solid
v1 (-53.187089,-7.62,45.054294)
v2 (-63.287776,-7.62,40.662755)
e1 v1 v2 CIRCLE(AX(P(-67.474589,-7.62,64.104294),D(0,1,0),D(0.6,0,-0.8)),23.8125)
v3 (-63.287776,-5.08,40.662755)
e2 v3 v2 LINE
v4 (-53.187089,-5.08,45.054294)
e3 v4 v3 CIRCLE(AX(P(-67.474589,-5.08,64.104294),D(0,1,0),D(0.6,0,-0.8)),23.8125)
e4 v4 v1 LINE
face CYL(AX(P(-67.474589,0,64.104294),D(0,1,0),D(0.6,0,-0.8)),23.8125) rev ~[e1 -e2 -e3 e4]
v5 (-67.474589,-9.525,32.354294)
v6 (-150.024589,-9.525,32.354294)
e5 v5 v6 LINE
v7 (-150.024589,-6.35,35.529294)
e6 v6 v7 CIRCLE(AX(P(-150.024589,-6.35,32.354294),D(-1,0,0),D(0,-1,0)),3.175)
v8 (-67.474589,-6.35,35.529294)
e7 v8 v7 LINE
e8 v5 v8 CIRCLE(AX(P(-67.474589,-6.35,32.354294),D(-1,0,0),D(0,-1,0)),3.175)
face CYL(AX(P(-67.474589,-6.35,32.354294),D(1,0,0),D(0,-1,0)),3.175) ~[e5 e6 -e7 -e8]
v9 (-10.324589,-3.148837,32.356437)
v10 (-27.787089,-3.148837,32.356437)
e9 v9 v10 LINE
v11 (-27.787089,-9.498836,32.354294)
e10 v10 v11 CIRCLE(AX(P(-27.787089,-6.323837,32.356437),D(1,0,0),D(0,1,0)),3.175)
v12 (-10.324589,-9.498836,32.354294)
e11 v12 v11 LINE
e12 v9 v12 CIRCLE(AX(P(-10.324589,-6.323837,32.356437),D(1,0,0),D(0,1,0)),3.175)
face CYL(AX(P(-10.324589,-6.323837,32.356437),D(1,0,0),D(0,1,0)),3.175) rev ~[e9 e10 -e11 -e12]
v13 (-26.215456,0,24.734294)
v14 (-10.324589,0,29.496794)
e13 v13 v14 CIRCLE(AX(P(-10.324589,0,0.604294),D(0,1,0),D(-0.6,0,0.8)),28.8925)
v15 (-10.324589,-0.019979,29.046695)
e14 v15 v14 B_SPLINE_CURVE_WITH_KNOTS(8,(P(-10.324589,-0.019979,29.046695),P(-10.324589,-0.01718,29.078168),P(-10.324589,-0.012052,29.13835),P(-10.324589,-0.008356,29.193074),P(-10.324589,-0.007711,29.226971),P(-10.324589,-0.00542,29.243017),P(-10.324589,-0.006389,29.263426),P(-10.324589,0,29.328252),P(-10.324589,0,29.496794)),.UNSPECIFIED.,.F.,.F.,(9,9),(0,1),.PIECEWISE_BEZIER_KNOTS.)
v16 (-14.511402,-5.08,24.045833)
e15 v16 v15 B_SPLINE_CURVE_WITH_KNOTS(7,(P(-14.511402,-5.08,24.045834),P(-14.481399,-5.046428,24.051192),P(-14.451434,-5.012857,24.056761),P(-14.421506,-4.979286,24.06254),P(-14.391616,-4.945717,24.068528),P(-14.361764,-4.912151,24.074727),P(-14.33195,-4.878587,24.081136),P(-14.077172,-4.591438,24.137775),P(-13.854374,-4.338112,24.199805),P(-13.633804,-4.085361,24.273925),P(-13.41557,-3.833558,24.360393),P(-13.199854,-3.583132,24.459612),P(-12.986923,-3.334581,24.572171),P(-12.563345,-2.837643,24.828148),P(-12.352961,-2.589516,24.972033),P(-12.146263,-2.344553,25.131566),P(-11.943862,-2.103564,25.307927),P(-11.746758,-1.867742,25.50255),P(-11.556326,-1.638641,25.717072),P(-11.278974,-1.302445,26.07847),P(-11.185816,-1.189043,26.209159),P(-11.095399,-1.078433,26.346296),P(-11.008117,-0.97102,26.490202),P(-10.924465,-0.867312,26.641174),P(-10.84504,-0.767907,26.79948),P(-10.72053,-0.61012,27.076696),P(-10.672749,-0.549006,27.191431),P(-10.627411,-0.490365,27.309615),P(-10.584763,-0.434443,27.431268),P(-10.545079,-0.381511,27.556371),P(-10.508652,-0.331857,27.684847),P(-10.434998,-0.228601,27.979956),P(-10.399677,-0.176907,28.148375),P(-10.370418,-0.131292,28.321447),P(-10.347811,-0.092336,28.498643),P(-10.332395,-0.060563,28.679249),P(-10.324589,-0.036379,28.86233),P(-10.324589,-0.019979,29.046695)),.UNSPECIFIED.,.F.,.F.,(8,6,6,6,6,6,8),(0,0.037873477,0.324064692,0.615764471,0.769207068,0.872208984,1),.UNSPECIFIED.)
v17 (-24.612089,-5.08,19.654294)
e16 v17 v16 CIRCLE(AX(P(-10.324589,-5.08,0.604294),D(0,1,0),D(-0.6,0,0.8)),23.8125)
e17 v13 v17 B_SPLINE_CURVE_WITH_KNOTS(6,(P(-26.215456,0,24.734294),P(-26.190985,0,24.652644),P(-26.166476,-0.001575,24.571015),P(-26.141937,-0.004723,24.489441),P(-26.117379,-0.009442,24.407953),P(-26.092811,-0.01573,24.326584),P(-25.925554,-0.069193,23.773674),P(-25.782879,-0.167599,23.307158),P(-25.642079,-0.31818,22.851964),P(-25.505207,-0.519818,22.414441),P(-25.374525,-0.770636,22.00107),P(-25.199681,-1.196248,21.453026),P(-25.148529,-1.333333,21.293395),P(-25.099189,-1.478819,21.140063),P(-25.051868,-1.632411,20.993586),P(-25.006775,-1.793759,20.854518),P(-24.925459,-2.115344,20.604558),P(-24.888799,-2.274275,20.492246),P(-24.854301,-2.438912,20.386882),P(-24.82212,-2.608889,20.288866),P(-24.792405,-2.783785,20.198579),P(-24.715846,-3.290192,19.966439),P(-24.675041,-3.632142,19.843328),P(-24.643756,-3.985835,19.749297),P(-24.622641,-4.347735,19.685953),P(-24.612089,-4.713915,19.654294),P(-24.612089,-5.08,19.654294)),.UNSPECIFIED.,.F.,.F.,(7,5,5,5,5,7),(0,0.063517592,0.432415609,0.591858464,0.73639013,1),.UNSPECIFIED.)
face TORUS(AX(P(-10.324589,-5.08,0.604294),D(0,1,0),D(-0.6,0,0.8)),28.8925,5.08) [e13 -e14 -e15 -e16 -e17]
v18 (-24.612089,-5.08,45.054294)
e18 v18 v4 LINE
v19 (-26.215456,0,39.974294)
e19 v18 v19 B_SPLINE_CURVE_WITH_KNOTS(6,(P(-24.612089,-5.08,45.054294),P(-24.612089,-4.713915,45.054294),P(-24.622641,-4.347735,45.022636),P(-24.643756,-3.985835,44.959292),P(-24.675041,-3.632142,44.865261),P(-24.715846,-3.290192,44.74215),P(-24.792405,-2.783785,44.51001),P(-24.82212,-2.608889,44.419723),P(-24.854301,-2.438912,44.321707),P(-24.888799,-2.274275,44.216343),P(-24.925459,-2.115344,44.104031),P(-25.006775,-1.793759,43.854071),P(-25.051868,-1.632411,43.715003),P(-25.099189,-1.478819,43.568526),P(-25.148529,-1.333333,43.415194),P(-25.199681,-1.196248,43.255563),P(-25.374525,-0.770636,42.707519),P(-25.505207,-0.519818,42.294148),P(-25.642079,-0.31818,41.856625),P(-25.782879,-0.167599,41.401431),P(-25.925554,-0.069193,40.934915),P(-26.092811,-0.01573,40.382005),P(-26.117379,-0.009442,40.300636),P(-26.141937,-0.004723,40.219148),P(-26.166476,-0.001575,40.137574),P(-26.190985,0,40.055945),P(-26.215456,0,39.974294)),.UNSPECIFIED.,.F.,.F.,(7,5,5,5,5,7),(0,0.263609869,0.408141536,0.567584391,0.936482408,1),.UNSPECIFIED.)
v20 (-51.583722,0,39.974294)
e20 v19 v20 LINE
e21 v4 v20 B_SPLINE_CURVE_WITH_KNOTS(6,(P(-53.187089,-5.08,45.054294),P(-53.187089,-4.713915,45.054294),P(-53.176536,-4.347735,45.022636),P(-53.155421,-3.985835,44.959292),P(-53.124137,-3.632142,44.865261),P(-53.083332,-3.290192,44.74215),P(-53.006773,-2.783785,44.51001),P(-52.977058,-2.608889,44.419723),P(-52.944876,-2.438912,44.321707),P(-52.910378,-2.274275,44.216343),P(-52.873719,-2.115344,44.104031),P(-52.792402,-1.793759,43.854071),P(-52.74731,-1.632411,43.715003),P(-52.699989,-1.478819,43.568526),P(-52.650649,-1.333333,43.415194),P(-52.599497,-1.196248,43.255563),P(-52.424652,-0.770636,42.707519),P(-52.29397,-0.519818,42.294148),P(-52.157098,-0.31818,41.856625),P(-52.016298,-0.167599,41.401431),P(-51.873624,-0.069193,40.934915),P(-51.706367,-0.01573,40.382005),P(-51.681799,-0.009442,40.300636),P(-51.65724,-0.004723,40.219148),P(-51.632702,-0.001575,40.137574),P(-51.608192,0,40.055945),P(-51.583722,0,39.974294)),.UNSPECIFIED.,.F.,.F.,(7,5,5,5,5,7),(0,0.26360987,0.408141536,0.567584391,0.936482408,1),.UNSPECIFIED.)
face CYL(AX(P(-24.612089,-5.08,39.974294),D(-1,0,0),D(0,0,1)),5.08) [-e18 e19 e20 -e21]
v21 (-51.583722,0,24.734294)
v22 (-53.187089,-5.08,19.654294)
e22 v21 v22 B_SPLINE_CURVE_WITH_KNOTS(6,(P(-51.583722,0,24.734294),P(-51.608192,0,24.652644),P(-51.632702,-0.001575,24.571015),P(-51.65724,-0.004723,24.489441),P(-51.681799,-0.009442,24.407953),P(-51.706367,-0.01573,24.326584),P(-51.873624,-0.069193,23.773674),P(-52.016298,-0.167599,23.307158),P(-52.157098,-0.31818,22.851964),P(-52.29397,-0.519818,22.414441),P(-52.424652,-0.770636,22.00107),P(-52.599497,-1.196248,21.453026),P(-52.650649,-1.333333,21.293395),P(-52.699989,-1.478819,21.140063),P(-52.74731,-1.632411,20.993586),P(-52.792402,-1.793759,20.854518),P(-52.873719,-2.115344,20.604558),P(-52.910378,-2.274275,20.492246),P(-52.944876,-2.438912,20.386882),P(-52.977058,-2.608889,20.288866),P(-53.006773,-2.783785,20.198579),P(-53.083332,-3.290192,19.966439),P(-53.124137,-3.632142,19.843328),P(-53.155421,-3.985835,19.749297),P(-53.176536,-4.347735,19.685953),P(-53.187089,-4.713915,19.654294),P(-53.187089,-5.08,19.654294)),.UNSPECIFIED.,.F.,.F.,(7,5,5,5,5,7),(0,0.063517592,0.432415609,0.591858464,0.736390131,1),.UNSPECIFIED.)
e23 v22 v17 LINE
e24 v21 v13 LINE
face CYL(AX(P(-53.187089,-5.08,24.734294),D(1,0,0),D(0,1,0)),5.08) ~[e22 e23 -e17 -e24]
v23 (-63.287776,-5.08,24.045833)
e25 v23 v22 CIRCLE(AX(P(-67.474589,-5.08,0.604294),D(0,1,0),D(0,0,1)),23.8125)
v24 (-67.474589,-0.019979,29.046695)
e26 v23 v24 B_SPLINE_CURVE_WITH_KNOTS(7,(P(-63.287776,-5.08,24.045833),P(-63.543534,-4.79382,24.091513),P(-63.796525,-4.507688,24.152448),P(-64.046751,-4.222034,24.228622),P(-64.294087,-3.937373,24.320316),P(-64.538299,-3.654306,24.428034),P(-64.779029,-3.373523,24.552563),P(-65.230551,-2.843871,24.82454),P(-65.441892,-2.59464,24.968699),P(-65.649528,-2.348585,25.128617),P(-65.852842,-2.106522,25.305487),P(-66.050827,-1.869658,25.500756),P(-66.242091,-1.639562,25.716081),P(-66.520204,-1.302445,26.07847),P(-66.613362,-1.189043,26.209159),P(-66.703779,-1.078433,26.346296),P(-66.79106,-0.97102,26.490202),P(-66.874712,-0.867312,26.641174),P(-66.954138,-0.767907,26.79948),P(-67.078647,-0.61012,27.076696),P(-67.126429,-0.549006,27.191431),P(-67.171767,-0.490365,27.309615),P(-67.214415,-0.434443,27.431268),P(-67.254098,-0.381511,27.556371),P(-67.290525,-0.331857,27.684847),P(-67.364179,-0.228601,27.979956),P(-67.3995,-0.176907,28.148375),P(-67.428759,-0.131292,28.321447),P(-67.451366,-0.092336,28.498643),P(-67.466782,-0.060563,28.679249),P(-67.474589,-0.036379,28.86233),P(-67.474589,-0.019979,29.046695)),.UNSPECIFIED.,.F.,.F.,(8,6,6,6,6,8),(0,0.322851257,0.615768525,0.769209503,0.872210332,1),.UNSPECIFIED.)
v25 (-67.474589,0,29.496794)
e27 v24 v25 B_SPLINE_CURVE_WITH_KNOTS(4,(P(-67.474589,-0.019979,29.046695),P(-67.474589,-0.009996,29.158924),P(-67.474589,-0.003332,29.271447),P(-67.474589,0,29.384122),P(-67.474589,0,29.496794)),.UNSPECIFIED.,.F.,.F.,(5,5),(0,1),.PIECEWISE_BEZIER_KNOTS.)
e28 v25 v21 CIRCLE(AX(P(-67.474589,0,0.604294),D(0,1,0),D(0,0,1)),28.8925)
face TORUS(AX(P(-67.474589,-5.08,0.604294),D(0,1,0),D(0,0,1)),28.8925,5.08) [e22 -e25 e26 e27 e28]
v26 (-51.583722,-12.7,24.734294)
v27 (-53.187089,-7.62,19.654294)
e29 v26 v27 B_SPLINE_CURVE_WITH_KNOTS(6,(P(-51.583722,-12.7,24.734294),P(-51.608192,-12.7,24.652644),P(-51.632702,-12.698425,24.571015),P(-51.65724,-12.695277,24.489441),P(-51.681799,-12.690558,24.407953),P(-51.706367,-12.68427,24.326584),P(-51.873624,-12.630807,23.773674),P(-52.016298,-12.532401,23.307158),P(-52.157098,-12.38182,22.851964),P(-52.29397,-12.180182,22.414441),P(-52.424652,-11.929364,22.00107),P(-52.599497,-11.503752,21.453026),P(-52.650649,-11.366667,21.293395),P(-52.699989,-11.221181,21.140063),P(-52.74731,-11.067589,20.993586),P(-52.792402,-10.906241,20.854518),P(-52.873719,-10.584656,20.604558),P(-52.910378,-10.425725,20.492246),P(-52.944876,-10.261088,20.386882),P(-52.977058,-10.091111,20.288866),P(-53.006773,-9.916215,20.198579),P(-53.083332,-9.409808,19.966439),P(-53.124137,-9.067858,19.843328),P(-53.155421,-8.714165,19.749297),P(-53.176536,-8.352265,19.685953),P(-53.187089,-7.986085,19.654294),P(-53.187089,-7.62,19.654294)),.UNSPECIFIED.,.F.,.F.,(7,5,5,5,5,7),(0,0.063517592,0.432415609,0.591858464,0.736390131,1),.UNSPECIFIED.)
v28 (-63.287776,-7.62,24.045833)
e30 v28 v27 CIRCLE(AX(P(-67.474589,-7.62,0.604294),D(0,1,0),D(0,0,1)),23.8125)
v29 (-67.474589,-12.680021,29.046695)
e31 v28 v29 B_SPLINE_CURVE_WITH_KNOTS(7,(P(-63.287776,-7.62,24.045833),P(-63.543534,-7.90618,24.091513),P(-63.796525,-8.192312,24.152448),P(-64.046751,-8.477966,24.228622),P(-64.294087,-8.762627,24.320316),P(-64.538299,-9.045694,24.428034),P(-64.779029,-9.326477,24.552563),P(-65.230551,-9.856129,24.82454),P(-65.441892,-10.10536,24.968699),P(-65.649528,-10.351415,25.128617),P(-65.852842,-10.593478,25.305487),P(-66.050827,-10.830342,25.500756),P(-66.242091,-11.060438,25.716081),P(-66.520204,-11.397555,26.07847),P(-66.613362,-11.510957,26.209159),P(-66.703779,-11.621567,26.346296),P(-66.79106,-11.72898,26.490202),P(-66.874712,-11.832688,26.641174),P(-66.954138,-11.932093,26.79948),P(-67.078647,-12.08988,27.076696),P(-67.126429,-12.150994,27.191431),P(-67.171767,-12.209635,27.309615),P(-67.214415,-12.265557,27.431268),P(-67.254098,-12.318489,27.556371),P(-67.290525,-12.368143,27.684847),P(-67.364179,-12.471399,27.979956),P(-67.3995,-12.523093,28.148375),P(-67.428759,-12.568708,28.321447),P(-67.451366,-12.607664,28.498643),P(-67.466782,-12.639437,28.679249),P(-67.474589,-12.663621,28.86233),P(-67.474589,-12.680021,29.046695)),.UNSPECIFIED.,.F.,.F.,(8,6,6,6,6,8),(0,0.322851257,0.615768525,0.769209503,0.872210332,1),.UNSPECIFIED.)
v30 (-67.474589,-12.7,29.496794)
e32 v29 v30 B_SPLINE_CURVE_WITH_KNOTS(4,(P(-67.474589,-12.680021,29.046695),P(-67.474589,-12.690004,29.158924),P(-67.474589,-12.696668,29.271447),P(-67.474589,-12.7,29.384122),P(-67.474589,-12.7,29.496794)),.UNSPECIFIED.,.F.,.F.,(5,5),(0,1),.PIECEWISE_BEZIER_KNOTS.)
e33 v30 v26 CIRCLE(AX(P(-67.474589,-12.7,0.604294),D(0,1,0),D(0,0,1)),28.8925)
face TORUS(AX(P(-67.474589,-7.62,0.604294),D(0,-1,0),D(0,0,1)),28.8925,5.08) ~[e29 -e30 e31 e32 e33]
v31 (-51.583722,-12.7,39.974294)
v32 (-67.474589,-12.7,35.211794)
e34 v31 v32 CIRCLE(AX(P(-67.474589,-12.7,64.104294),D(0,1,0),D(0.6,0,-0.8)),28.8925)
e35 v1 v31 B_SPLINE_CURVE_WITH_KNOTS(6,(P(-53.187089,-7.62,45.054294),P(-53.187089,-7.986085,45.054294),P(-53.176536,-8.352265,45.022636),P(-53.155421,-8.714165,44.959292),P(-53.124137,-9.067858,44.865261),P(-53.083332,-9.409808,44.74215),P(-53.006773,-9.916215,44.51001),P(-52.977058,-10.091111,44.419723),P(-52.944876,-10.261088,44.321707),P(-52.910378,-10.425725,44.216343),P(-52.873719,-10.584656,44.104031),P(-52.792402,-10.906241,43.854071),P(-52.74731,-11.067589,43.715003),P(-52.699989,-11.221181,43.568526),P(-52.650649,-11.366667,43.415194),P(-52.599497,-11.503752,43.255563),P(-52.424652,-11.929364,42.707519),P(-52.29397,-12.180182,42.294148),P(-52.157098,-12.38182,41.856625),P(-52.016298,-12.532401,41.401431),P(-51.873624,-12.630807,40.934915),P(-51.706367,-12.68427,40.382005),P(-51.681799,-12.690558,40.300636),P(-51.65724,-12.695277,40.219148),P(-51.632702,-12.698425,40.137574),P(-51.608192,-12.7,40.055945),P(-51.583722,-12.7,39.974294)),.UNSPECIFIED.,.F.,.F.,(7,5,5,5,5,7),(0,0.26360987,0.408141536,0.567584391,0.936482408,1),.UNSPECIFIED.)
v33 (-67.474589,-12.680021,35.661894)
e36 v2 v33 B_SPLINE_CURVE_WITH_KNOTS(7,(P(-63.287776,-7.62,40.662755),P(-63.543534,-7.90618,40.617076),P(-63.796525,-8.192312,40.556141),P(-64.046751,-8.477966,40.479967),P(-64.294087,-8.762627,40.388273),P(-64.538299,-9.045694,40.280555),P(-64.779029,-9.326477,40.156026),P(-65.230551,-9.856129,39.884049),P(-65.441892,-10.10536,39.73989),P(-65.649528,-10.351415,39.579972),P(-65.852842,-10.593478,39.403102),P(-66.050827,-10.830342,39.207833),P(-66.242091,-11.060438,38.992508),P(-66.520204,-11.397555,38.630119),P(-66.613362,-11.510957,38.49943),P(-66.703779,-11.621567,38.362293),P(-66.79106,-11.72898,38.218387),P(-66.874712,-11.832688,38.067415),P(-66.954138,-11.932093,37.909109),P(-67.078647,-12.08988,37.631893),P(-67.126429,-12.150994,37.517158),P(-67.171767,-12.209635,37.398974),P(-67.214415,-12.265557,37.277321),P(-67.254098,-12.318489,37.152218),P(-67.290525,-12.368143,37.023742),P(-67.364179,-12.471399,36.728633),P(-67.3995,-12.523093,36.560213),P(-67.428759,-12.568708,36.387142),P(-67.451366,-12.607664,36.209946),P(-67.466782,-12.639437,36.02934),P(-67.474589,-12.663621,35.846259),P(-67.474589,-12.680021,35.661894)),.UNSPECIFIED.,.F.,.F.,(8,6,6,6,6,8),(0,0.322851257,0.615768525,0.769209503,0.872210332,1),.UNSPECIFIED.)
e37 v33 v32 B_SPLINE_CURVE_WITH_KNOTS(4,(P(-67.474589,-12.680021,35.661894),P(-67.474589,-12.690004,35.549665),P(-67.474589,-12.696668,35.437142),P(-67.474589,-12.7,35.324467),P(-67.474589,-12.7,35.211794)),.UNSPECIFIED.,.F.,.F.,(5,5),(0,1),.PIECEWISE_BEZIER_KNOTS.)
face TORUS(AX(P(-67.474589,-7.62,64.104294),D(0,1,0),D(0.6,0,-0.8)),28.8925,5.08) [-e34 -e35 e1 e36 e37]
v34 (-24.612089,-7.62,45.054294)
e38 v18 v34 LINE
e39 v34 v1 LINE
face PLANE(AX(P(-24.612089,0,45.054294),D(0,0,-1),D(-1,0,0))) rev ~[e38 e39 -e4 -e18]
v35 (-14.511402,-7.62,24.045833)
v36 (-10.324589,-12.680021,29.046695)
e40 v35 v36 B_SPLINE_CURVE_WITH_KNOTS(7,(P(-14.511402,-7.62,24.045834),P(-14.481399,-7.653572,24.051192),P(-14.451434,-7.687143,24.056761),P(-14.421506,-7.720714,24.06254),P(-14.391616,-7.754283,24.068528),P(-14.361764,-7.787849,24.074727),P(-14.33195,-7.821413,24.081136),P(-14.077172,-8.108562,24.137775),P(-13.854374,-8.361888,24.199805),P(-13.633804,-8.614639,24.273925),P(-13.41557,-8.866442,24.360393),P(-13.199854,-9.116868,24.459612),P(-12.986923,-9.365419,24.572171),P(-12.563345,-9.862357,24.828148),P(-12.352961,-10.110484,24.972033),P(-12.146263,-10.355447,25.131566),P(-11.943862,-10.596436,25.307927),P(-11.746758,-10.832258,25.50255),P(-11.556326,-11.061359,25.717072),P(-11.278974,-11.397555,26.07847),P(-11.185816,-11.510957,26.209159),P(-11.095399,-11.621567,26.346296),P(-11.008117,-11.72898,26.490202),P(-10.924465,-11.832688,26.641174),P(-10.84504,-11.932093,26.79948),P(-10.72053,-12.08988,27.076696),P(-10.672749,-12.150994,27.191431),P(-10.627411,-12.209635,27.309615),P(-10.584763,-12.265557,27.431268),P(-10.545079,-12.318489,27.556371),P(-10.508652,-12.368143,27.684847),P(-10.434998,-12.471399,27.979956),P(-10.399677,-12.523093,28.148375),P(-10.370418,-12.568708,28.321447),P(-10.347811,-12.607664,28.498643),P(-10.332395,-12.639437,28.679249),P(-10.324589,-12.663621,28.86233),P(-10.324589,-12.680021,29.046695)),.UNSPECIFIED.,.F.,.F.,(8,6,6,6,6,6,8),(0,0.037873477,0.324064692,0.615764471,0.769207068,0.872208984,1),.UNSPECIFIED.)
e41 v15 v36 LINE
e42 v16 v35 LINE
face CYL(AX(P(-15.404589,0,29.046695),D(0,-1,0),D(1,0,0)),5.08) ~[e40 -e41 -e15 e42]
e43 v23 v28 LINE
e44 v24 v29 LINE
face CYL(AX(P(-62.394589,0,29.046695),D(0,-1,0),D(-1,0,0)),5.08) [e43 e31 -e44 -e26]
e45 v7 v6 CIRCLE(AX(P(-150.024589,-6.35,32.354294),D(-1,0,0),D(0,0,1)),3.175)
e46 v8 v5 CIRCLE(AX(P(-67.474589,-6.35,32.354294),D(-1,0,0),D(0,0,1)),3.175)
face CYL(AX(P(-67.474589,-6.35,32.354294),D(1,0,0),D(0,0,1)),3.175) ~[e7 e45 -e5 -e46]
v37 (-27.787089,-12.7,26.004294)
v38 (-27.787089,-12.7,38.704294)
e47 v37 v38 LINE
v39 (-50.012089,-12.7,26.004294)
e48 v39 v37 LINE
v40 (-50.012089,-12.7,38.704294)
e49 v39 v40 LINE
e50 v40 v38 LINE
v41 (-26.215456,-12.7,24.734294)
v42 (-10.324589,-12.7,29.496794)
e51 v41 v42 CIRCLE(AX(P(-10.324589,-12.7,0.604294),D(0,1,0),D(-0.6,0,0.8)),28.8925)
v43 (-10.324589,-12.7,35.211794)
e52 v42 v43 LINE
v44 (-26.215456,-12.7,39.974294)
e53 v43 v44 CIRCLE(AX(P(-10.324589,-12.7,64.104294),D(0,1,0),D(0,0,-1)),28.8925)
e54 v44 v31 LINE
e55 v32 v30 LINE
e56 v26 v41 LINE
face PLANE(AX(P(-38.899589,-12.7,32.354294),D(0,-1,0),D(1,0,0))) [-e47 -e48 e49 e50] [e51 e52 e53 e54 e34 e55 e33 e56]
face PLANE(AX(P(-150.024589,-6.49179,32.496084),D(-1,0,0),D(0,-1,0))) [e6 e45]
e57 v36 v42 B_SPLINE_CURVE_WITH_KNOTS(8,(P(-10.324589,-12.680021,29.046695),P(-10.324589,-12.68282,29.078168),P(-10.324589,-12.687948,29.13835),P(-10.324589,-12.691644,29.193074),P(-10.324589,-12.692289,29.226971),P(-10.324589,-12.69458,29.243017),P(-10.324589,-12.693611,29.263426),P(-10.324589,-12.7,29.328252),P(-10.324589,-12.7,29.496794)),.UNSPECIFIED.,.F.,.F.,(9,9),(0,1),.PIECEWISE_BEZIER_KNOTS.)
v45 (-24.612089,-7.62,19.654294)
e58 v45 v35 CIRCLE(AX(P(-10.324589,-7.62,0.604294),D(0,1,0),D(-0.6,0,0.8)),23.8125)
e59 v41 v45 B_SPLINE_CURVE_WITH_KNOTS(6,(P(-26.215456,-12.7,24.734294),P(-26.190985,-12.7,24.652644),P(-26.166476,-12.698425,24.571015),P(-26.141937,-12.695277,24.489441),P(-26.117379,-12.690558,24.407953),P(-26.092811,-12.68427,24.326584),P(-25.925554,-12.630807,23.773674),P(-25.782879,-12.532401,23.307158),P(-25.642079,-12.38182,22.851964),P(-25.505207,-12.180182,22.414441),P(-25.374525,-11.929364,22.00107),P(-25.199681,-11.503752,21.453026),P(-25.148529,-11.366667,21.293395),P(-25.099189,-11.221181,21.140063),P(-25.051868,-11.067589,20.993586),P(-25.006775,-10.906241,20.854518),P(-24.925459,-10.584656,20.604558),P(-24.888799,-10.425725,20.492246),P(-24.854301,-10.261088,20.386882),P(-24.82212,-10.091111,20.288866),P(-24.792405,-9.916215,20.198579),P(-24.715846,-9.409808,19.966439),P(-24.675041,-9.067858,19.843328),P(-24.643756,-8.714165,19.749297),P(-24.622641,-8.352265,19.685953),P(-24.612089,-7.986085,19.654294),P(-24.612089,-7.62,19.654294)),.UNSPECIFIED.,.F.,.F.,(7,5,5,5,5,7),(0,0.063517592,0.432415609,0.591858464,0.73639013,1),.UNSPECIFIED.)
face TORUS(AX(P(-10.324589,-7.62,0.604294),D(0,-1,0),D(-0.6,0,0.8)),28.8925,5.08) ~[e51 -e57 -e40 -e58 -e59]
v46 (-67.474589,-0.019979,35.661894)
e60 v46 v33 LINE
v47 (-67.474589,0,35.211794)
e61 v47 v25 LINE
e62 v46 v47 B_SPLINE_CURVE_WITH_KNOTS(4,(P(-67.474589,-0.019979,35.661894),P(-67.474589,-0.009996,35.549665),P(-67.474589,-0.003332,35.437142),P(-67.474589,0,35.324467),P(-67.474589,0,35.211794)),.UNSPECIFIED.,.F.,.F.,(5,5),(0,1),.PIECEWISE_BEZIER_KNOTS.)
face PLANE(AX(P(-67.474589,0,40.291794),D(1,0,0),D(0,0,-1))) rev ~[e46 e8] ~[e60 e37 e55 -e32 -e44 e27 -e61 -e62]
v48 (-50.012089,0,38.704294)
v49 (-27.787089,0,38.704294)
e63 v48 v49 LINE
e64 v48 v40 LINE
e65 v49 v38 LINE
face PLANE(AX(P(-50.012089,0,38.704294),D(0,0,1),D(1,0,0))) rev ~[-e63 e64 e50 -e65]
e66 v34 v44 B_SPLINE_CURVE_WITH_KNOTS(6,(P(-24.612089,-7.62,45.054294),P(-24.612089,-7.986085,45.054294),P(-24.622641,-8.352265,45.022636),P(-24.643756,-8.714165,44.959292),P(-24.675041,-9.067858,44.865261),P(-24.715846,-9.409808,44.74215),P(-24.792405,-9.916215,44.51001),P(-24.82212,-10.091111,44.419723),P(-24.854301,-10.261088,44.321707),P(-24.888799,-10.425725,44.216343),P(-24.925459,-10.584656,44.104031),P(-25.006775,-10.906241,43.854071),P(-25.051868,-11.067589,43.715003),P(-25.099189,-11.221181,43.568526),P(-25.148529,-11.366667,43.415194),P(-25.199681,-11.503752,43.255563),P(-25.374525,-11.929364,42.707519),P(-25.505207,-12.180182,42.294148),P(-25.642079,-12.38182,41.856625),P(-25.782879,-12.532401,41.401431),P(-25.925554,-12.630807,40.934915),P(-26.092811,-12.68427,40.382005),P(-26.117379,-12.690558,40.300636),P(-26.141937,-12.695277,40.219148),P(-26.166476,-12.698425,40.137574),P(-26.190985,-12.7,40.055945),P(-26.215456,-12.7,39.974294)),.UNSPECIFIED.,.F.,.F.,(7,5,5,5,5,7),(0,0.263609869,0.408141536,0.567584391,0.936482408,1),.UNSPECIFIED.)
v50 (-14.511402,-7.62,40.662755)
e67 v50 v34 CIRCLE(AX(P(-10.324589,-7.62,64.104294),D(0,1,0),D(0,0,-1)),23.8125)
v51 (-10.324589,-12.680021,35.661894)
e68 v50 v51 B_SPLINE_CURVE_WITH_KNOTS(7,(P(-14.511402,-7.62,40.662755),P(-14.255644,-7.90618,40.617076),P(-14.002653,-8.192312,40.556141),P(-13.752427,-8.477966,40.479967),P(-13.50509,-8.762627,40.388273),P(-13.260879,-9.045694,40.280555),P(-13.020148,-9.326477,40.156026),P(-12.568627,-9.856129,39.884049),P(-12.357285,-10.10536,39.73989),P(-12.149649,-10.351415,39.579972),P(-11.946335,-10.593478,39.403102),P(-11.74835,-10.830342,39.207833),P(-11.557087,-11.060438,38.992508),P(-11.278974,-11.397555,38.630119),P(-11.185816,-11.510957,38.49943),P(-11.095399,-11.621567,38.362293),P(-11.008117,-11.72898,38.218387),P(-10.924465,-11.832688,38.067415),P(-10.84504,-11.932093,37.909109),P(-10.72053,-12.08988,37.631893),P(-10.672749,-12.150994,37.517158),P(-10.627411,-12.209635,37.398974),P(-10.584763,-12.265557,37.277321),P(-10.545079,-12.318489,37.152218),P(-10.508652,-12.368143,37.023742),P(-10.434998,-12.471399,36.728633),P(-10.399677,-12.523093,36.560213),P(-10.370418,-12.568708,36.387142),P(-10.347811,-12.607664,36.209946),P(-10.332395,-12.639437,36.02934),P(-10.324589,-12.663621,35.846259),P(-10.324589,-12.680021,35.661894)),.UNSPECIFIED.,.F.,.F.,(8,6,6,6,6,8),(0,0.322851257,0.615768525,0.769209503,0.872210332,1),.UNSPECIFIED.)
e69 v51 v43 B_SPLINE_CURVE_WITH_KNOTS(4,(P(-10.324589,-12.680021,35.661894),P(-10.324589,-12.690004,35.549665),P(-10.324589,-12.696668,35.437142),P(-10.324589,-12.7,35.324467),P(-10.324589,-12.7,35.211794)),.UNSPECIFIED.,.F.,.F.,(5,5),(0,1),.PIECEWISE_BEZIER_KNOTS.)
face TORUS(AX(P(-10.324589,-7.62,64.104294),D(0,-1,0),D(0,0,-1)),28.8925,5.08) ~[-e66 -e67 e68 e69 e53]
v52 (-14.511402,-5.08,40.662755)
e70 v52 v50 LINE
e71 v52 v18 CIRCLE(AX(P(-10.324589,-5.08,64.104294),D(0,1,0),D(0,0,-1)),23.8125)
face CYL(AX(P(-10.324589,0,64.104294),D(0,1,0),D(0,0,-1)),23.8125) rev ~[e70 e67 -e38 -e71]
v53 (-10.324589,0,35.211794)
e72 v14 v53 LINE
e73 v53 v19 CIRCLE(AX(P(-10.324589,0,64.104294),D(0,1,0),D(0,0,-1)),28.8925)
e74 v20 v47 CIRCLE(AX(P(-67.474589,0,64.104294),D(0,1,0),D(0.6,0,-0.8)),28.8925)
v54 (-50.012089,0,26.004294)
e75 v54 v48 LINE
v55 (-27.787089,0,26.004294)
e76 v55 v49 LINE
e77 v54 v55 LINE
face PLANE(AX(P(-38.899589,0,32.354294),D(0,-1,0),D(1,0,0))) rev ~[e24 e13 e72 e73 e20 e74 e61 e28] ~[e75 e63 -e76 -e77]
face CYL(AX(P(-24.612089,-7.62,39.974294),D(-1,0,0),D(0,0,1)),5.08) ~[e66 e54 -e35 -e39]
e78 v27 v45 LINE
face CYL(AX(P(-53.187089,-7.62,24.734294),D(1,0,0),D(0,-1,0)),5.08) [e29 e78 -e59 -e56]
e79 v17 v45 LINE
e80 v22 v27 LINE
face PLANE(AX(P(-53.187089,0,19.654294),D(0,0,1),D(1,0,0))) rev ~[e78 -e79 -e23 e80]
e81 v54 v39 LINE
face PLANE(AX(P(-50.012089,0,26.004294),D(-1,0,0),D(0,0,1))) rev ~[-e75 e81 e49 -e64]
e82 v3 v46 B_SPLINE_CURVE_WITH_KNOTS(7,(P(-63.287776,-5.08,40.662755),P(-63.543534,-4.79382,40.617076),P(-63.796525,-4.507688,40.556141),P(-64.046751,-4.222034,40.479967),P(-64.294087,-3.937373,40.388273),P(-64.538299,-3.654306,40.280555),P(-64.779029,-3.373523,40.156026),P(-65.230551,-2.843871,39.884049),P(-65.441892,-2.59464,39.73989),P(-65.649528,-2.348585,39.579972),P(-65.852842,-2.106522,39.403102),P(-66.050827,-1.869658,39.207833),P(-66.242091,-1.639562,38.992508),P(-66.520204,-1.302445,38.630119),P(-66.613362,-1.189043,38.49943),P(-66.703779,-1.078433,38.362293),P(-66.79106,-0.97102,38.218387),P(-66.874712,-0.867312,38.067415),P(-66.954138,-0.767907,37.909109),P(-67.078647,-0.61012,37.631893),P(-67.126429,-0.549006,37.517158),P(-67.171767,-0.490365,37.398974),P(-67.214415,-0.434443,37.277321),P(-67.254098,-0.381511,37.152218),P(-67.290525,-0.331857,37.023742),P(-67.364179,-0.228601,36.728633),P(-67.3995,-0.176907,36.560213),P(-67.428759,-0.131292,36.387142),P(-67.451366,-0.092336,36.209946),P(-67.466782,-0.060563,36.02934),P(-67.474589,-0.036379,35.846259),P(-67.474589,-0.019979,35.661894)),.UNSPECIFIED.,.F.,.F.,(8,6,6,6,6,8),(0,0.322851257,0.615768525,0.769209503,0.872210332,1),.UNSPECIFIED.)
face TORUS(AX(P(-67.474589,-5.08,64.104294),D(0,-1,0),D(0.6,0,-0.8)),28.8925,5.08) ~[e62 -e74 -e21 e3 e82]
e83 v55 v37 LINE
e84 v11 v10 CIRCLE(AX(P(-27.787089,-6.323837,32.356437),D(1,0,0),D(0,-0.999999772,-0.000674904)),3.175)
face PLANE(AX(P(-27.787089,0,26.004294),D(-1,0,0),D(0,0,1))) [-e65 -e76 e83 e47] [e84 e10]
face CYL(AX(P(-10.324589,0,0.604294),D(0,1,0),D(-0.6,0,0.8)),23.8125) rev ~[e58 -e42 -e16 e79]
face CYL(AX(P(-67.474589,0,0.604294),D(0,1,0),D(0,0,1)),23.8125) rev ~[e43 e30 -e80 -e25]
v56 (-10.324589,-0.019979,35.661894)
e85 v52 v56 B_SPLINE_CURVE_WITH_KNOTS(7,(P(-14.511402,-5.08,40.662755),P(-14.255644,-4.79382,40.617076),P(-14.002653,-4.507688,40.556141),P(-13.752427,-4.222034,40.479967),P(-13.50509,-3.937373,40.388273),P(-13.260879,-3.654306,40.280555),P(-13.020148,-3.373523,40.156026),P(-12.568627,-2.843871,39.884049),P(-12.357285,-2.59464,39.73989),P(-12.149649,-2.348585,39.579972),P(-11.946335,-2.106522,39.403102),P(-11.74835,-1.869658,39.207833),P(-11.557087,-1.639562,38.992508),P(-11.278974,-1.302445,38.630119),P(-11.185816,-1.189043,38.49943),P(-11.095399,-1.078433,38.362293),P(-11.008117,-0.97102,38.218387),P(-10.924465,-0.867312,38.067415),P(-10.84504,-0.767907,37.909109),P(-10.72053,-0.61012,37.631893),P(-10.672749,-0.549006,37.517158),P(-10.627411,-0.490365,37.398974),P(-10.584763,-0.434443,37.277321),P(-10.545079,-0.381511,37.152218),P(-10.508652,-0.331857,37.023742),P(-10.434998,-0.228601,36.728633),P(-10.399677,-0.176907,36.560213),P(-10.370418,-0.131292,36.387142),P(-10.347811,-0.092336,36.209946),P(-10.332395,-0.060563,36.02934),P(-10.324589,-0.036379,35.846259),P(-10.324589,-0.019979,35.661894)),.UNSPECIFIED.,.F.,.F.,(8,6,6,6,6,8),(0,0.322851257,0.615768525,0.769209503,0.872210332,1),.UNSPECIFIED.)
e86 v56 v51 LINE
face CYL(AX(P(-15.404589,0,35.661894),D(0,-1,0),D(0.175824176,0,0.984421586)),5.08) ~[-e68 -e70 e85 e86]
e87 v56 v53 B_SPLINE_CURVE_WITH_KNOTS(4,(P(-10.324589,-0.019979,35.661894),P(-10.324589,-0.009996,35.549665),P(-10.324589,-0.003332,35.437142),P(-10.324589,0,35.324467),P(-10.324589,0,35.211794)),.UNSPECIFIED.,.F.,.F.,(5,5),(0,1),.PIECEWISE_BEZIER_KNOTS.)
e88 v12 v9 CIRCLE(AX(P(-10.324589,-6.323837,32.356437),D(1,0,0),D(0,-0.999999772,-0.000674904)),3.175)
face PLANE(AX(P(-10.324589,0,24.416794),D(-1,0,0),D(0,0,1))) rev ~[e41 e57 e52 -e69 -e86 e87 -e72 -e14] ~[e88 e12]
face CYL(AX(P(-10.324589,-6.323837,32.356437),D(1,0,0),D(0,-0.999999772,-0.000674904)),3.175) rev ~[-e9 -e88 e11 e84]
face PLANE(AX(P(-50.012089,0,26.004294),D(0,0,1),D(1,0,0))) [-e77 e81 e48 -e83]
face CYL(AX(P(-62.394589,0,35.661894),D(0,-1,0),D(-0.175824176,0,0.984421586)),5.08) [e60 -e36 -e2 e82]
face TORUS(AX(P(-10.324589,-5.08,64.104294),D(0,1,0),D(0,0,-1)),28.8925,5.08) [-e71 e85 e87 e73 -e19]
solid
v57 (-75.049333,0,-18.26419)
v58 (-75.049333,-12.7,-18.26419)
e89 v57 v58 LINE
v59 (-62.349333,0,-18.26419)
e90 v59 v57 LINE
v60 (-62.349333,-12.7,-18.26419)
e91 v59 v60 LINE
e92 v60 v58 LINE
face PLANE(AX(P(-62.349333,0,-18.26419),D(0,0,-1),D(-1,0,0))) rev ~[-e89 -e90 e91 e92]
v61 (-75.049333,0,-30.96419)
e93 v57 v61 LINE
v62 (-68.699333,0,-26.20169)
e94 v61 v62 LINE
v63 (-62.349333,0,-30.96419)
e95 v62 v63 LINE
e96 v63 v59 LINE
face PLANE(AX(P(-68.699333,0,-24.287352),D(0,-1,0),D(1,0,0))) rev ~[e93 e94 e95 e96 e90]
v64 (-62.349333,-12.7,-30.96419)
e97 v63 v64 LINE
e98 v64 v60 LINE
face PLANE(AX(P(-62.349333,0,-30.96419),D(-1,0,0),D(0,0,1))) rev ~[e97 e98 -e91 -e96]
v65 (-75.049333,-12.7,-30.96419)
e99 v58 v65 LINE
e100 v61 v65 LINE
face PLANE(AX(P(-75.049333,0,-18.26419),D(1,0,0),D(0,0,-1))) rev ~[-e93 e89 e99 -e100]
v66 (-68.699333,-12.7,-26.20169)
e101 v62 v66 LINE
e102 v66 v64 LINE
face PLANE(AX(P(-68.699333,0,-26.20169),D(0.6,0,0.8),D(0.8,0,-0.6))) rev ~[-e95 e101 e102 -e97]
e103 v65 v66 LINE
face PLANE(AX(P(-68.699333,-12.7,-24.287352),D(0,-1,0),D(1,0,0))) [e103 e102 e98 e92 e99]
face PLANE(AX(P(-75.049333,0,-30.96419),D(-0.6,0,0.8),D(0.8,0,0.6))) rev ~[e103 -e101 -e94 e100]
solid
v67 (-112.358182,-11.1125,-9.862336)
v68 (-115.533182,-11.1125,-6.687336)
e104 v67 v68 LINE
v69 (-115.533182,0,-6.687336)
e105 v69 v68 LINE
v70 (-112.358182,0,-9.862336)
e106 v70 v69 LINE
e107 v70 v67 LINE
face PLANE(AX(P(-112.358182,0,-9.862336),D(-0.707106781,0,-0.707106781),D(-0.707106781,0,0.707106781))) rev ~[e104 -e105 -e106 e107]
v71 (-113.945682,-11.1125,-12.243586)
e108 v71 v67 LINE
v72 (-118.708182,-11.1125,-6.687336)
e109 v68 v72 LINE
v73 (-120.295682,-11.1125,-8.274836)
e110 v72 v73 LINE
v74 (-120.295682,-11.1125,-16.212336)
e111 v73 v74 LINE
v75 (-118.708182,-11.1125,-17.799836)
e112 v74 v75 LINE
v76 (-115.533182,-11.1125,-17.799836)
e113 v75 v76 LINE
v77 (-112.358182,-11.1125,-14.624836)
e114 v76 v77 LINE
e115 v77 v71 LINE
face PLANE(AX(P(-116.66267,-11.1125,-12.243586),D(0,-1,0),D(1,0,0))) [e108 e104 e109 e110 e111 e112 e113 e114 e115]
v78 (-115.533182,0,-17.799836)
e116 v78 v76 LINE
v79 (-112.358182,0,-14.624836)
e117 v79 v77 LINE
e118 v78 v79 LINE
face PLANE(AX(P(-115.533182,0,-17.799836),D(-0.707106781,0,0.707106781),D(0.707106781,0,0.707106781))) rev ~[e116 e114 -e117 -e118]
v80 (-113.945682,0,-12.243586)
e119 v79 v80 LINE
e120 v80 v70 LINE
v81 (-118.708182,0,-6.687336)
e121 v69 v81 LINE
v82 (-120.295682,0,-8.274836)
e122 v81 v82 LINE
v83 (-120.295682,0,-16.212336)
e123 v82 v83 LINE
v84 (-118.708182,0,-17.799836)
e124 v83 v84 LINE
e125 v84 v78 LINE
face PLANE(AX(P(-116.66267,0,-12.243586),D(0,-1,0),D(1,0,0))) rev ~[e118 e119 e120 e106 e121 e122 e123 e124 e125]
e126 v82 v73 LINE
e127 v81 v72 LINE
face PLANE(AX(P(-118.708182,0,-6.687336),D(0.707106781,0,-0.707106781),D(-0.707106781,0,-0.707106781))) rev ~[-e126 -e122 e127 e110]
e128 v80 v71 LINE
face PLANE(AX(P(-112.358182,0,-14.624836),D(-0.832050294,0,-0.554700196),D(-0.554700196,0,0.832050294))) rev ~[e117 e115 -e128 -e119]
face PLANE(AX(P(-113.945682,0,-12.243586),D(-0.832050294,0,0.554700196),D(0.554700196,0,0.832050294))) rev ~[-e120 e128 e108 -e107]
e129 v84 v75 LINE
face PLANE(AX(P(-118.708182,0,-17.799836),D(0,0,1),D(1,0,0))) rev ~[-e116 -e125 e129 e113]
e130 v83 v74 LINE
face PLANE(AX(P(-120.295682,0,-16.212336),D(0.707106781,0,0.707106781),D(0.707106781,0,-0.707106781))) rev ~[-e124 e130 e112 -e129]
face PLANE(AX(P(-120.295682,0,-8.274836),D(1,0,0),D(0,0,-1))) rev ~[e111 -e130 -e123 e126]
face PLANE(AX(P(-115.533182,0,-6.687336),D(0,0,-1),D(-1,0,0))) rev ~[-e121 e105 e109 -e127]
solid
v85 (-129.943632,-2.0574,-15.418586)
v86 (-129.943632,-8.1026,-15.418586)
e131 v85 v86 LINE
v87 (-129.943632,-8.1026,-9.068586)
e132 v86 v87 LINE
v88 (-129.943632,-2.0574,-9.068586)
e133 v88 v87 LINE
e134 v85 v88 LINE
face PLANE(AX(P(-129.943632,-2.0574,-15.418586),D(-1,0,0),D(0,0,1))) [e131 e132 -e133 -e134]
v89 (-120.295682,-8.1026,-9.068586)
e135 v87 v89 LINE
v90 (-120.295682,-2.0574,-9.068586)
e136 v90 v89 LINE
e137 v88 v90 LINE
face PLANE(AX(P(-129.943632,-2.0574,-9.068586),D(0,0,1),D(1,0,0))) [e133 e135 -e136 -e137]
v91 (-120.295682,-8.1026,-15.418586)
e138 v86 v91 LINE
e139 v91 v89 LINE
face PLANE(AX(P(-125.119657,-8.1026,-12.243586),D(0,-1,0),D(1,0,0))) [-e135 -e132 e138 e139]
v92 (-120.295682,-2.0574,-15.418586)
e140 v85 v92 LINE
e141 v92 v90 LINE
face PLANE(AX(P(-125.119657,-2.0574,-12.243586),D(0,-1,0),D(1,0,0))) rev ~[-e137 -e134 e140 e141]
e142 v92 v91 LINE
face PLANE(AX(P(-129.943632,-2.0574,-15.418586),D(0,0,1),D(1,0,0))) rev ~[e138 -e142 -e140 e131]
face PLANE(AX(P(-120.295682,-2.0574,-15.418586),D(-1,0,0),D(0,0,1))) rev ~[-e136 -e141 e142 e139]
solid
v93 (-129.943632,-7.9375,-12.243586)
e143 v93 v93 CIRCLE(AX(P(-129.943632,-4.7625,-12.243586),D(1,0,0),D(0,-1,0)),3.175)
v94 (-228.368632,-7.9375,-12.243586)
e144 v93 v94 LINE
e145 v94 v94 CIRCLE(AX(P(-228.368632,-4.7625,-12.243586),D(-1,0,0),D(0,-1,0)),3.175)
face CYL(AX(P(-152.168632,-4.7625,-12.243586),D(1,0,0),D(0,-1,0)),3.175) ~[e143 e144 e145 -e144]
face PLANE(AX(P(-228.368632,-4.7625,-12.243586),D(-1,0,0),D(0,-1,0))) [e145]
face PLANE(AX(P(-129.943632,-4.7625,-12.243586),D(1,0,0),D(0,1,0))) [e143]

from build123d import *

# Parameters (mm, degrees)
F2_DEPTH  = 12.7
F0_W      = 22.225
F0_H      = 12.7
F3_DEPTH  = 12.7
F4_DEPTH  = 9.525
F5_START  = 2.0574
F0_W_2    = 9.647949481
F0_H_2    = 6.35
F5_DEPTH  = 6.0452
F6_DEPTH  = 11.1125
F8_DEPTH  = 82.55
F10_DEPTH = 22.225
F11_R     = 5.08
F13_R     = 3.175
F14_DEPTH = 76.2
F17_DEPTH = 25.4


with BuildPart() as f2:
    # F1 (on Front) → F2 (new body)
    with BuildSketch(Plane.XZ):
        Polygon((-68.6993332744, -26.2016901404), (-62.3493332744, -30.9641901404), (-62.3493332744, -18.2641901404), (-75.0493332744, -18.2641901404), (-75.0493332744, -30.9641901404), align=None)
    extrude(amount=F2_DEPTH)


with BuildPart() as f3:
    # F0 (on Front) → F3 (new body)
    with BuildSketch(Plane.XZ):
        with BuildLine():
            ThreePointArc((-53.1870887518, 45.0542944759), (-59.9444150735, 41.5137734411), (-67.4745887518, 40.2917944759))
            Line((-67.4745887518, 40.2917944759), (-67.4745887518, 38.7042944759))
            Line((-67.4745887518, 38.7042944759), (-67.4745887518, 26.0042944759))
            Line((-67.4745887518, 26.0042944759), (-67.4745887518, 24.4167944759))
            ThreePointArc((-67.4745887518, 24.4167944759), (-59.9444150735, 23.1948155107), (-53.1870887518, 19.6542944759))
            Line((-53.1870887518, 19.6542944759), (-24.6120887518, 19.6542944759))
            ThreePointArc((-24.6120887518, 19.6542944759), (-17.8547624301, 23.1948155107), (-10.3245887518, 24.4167944759))
            Line((-10.3245887518, 24.4167944759), (-10.3245887518, 40.2917944759))
            ThreePointArc((-10.3245887518, 40.2917944759), (-17.8547624301, 41.5137734411), (-24.6120887518, 45.0542944759))
            Line((-24.6120887518, 45.0542944759), (-53.1870887518, 45.0542944759))
        make_face()
        with Locations((-38.8995887518, 32.3542944759)):
            Rectangle(F0_W, F0_H, mode=Mode.SUBTRACT)
    extrude(amount=F3_DEPTH)

    # F7 (on face) → F8 (join)
    with BuildSketch(Plane(origin=(-67.4745887518, 0, 0), x_dir=(0, -1, 0), z_dir=(-1, 0, 0))):
        with BuildLine():
            ThreePointArc((9.525, 32.3542944759), (8.5950640303, 34.5993585062), (6.35, 35.5292944759))
            ThreePointArc((6.35, 35.5292944759), (4.1049359697, 30.1092304456), (9.525, 32.3542944759))
        make_face()
    extrude(amount=F8_DEPTH)

    # F11
    f11_edges = [f3.edges().sort_by_distance(p)[0] for p in [
        (-59.944415, -12.7, 41.513773),
        (-59.944415, 0, 41.513773),
        (-38.899589, -12.7, 45.054294),
        (-38.899589, 0, 45.054294),
        (-17.854762, 0, 41.513773),
        (-17.854762, -12.7, 41.513773),
        (-17.854762, -12.7, 23.194816),
        (-17.854762, 0, 23.194816),
        (-38.899589, 0, 19.654294),
        (-38.899589, -12.7, 19.654294),
        (-59.944415, -12.7, 23.194816),
        (-59.944415, 0, 23.194816),
        (-67.474589, -6.35, 40.291794),
        (-67.474589, -6.35, 24.416794),
        (-10.324589, -6.35, 40.291794),
        (-10.324589, -6.35, 24.416794),
    ]]
    fillet(f11_edges, radius=F11_R)

    # F16 (on face) → F17 (cut)
    with BuildSketch(Plane.YZ.offset(-10.3245887518)):
        with BuildLine():
            ThreePointArc((-9.4988360207, 32.3542944759), (-6.3227653339, 29.1814374764), (-3.1488367438, 32.3564372957))
            ThreePointArc((-3.1488367438, 32.3564372957), (-6.3249081538, 35.5314371149), (-9.4988360207, 32.3542944759))
        make_face()
    extrude(amount=-F17_DEPTH, mode=Mode.SUBTRACT)


with BuildPart() as f4:
    # F0 (on Front) → F4 (new body)
    with BuildSketch(Plane.XZ):
        Polygon((-152.1686315536, -17.0060861856), (-152.1686315536, -7.4810861856), (-152.1686315536, -5.8935861856), (-228.3686315536, -5.8935861856), (-228.3686315536, -18.5935861856), (-152.1686315536, -18.5935861856), align=None)
    extrude(amount=F4_DEPTH)


with BuildPart() as f5:
    # F0 (on Front) → F5 (new body)
    with BuildSketch(Plane.XZ.offset(F5_START)):
        with Locations((-125.1196568131, -12.2435861856)):
            Rectangle(F0_W_2, F0_H_2)
    extrude(amount=F5_DEPTH)


with BuildPart() as f6:
    # F0 (on Front) → F6 (new body)
    with BuildSketch(Plane.XZ):
        Polygon((-120.2956820726, -8.2748361856), (-120.2956820726, -9.0685861856), (-120.2956820726, -15.4185861856), (-120.2956820726, -16.2123361856), (-118.7081820726, -17.7998361856), (-115.5331820726, -17.7998361856), (-112.3581820726, -14.6248361856), (-113.9456820726, -12.2435861856), (-112.3581820726, -9.8623361856), (-115.5331820726, -6.6873361856), (-118.7081820726, -6.6873361856), align=None)
    extrude(amount=F6_DEPTH)


with BuildPart() as f10:
    # F9 (on face) → F10 (new body)
    with BuildSketch(Plane.YZ.offset(-152.1686315536)):
        with BuildLine():
            ThreePointArc((-1.5875, -12.2435861856), (-4.7625, -9.0685861856), (-7.9375, -12.2435861856))
            ThreePointArc((-7.9375, -12.2435861856), (-4.7625, -15.4185861856), (-1.5875, -12.2435861856))
        make_face()
    extrude(amount=F10_DEPTH)

    # F13 (on face) → F14 (join)
    with BuildSketch(Plane(origin=(-152.1686315536, 0, 0), x_dir=(0, -1, 0), z_dir=(-1, 0, 0))):
        with Locations((4.7625, -12.2435861856)):
            Circle(F13_R)
    extrude(amount=F14_DEPTH)


solid = Compound([f2.part, f3.part, f5.part, f6.part, f10.part])
